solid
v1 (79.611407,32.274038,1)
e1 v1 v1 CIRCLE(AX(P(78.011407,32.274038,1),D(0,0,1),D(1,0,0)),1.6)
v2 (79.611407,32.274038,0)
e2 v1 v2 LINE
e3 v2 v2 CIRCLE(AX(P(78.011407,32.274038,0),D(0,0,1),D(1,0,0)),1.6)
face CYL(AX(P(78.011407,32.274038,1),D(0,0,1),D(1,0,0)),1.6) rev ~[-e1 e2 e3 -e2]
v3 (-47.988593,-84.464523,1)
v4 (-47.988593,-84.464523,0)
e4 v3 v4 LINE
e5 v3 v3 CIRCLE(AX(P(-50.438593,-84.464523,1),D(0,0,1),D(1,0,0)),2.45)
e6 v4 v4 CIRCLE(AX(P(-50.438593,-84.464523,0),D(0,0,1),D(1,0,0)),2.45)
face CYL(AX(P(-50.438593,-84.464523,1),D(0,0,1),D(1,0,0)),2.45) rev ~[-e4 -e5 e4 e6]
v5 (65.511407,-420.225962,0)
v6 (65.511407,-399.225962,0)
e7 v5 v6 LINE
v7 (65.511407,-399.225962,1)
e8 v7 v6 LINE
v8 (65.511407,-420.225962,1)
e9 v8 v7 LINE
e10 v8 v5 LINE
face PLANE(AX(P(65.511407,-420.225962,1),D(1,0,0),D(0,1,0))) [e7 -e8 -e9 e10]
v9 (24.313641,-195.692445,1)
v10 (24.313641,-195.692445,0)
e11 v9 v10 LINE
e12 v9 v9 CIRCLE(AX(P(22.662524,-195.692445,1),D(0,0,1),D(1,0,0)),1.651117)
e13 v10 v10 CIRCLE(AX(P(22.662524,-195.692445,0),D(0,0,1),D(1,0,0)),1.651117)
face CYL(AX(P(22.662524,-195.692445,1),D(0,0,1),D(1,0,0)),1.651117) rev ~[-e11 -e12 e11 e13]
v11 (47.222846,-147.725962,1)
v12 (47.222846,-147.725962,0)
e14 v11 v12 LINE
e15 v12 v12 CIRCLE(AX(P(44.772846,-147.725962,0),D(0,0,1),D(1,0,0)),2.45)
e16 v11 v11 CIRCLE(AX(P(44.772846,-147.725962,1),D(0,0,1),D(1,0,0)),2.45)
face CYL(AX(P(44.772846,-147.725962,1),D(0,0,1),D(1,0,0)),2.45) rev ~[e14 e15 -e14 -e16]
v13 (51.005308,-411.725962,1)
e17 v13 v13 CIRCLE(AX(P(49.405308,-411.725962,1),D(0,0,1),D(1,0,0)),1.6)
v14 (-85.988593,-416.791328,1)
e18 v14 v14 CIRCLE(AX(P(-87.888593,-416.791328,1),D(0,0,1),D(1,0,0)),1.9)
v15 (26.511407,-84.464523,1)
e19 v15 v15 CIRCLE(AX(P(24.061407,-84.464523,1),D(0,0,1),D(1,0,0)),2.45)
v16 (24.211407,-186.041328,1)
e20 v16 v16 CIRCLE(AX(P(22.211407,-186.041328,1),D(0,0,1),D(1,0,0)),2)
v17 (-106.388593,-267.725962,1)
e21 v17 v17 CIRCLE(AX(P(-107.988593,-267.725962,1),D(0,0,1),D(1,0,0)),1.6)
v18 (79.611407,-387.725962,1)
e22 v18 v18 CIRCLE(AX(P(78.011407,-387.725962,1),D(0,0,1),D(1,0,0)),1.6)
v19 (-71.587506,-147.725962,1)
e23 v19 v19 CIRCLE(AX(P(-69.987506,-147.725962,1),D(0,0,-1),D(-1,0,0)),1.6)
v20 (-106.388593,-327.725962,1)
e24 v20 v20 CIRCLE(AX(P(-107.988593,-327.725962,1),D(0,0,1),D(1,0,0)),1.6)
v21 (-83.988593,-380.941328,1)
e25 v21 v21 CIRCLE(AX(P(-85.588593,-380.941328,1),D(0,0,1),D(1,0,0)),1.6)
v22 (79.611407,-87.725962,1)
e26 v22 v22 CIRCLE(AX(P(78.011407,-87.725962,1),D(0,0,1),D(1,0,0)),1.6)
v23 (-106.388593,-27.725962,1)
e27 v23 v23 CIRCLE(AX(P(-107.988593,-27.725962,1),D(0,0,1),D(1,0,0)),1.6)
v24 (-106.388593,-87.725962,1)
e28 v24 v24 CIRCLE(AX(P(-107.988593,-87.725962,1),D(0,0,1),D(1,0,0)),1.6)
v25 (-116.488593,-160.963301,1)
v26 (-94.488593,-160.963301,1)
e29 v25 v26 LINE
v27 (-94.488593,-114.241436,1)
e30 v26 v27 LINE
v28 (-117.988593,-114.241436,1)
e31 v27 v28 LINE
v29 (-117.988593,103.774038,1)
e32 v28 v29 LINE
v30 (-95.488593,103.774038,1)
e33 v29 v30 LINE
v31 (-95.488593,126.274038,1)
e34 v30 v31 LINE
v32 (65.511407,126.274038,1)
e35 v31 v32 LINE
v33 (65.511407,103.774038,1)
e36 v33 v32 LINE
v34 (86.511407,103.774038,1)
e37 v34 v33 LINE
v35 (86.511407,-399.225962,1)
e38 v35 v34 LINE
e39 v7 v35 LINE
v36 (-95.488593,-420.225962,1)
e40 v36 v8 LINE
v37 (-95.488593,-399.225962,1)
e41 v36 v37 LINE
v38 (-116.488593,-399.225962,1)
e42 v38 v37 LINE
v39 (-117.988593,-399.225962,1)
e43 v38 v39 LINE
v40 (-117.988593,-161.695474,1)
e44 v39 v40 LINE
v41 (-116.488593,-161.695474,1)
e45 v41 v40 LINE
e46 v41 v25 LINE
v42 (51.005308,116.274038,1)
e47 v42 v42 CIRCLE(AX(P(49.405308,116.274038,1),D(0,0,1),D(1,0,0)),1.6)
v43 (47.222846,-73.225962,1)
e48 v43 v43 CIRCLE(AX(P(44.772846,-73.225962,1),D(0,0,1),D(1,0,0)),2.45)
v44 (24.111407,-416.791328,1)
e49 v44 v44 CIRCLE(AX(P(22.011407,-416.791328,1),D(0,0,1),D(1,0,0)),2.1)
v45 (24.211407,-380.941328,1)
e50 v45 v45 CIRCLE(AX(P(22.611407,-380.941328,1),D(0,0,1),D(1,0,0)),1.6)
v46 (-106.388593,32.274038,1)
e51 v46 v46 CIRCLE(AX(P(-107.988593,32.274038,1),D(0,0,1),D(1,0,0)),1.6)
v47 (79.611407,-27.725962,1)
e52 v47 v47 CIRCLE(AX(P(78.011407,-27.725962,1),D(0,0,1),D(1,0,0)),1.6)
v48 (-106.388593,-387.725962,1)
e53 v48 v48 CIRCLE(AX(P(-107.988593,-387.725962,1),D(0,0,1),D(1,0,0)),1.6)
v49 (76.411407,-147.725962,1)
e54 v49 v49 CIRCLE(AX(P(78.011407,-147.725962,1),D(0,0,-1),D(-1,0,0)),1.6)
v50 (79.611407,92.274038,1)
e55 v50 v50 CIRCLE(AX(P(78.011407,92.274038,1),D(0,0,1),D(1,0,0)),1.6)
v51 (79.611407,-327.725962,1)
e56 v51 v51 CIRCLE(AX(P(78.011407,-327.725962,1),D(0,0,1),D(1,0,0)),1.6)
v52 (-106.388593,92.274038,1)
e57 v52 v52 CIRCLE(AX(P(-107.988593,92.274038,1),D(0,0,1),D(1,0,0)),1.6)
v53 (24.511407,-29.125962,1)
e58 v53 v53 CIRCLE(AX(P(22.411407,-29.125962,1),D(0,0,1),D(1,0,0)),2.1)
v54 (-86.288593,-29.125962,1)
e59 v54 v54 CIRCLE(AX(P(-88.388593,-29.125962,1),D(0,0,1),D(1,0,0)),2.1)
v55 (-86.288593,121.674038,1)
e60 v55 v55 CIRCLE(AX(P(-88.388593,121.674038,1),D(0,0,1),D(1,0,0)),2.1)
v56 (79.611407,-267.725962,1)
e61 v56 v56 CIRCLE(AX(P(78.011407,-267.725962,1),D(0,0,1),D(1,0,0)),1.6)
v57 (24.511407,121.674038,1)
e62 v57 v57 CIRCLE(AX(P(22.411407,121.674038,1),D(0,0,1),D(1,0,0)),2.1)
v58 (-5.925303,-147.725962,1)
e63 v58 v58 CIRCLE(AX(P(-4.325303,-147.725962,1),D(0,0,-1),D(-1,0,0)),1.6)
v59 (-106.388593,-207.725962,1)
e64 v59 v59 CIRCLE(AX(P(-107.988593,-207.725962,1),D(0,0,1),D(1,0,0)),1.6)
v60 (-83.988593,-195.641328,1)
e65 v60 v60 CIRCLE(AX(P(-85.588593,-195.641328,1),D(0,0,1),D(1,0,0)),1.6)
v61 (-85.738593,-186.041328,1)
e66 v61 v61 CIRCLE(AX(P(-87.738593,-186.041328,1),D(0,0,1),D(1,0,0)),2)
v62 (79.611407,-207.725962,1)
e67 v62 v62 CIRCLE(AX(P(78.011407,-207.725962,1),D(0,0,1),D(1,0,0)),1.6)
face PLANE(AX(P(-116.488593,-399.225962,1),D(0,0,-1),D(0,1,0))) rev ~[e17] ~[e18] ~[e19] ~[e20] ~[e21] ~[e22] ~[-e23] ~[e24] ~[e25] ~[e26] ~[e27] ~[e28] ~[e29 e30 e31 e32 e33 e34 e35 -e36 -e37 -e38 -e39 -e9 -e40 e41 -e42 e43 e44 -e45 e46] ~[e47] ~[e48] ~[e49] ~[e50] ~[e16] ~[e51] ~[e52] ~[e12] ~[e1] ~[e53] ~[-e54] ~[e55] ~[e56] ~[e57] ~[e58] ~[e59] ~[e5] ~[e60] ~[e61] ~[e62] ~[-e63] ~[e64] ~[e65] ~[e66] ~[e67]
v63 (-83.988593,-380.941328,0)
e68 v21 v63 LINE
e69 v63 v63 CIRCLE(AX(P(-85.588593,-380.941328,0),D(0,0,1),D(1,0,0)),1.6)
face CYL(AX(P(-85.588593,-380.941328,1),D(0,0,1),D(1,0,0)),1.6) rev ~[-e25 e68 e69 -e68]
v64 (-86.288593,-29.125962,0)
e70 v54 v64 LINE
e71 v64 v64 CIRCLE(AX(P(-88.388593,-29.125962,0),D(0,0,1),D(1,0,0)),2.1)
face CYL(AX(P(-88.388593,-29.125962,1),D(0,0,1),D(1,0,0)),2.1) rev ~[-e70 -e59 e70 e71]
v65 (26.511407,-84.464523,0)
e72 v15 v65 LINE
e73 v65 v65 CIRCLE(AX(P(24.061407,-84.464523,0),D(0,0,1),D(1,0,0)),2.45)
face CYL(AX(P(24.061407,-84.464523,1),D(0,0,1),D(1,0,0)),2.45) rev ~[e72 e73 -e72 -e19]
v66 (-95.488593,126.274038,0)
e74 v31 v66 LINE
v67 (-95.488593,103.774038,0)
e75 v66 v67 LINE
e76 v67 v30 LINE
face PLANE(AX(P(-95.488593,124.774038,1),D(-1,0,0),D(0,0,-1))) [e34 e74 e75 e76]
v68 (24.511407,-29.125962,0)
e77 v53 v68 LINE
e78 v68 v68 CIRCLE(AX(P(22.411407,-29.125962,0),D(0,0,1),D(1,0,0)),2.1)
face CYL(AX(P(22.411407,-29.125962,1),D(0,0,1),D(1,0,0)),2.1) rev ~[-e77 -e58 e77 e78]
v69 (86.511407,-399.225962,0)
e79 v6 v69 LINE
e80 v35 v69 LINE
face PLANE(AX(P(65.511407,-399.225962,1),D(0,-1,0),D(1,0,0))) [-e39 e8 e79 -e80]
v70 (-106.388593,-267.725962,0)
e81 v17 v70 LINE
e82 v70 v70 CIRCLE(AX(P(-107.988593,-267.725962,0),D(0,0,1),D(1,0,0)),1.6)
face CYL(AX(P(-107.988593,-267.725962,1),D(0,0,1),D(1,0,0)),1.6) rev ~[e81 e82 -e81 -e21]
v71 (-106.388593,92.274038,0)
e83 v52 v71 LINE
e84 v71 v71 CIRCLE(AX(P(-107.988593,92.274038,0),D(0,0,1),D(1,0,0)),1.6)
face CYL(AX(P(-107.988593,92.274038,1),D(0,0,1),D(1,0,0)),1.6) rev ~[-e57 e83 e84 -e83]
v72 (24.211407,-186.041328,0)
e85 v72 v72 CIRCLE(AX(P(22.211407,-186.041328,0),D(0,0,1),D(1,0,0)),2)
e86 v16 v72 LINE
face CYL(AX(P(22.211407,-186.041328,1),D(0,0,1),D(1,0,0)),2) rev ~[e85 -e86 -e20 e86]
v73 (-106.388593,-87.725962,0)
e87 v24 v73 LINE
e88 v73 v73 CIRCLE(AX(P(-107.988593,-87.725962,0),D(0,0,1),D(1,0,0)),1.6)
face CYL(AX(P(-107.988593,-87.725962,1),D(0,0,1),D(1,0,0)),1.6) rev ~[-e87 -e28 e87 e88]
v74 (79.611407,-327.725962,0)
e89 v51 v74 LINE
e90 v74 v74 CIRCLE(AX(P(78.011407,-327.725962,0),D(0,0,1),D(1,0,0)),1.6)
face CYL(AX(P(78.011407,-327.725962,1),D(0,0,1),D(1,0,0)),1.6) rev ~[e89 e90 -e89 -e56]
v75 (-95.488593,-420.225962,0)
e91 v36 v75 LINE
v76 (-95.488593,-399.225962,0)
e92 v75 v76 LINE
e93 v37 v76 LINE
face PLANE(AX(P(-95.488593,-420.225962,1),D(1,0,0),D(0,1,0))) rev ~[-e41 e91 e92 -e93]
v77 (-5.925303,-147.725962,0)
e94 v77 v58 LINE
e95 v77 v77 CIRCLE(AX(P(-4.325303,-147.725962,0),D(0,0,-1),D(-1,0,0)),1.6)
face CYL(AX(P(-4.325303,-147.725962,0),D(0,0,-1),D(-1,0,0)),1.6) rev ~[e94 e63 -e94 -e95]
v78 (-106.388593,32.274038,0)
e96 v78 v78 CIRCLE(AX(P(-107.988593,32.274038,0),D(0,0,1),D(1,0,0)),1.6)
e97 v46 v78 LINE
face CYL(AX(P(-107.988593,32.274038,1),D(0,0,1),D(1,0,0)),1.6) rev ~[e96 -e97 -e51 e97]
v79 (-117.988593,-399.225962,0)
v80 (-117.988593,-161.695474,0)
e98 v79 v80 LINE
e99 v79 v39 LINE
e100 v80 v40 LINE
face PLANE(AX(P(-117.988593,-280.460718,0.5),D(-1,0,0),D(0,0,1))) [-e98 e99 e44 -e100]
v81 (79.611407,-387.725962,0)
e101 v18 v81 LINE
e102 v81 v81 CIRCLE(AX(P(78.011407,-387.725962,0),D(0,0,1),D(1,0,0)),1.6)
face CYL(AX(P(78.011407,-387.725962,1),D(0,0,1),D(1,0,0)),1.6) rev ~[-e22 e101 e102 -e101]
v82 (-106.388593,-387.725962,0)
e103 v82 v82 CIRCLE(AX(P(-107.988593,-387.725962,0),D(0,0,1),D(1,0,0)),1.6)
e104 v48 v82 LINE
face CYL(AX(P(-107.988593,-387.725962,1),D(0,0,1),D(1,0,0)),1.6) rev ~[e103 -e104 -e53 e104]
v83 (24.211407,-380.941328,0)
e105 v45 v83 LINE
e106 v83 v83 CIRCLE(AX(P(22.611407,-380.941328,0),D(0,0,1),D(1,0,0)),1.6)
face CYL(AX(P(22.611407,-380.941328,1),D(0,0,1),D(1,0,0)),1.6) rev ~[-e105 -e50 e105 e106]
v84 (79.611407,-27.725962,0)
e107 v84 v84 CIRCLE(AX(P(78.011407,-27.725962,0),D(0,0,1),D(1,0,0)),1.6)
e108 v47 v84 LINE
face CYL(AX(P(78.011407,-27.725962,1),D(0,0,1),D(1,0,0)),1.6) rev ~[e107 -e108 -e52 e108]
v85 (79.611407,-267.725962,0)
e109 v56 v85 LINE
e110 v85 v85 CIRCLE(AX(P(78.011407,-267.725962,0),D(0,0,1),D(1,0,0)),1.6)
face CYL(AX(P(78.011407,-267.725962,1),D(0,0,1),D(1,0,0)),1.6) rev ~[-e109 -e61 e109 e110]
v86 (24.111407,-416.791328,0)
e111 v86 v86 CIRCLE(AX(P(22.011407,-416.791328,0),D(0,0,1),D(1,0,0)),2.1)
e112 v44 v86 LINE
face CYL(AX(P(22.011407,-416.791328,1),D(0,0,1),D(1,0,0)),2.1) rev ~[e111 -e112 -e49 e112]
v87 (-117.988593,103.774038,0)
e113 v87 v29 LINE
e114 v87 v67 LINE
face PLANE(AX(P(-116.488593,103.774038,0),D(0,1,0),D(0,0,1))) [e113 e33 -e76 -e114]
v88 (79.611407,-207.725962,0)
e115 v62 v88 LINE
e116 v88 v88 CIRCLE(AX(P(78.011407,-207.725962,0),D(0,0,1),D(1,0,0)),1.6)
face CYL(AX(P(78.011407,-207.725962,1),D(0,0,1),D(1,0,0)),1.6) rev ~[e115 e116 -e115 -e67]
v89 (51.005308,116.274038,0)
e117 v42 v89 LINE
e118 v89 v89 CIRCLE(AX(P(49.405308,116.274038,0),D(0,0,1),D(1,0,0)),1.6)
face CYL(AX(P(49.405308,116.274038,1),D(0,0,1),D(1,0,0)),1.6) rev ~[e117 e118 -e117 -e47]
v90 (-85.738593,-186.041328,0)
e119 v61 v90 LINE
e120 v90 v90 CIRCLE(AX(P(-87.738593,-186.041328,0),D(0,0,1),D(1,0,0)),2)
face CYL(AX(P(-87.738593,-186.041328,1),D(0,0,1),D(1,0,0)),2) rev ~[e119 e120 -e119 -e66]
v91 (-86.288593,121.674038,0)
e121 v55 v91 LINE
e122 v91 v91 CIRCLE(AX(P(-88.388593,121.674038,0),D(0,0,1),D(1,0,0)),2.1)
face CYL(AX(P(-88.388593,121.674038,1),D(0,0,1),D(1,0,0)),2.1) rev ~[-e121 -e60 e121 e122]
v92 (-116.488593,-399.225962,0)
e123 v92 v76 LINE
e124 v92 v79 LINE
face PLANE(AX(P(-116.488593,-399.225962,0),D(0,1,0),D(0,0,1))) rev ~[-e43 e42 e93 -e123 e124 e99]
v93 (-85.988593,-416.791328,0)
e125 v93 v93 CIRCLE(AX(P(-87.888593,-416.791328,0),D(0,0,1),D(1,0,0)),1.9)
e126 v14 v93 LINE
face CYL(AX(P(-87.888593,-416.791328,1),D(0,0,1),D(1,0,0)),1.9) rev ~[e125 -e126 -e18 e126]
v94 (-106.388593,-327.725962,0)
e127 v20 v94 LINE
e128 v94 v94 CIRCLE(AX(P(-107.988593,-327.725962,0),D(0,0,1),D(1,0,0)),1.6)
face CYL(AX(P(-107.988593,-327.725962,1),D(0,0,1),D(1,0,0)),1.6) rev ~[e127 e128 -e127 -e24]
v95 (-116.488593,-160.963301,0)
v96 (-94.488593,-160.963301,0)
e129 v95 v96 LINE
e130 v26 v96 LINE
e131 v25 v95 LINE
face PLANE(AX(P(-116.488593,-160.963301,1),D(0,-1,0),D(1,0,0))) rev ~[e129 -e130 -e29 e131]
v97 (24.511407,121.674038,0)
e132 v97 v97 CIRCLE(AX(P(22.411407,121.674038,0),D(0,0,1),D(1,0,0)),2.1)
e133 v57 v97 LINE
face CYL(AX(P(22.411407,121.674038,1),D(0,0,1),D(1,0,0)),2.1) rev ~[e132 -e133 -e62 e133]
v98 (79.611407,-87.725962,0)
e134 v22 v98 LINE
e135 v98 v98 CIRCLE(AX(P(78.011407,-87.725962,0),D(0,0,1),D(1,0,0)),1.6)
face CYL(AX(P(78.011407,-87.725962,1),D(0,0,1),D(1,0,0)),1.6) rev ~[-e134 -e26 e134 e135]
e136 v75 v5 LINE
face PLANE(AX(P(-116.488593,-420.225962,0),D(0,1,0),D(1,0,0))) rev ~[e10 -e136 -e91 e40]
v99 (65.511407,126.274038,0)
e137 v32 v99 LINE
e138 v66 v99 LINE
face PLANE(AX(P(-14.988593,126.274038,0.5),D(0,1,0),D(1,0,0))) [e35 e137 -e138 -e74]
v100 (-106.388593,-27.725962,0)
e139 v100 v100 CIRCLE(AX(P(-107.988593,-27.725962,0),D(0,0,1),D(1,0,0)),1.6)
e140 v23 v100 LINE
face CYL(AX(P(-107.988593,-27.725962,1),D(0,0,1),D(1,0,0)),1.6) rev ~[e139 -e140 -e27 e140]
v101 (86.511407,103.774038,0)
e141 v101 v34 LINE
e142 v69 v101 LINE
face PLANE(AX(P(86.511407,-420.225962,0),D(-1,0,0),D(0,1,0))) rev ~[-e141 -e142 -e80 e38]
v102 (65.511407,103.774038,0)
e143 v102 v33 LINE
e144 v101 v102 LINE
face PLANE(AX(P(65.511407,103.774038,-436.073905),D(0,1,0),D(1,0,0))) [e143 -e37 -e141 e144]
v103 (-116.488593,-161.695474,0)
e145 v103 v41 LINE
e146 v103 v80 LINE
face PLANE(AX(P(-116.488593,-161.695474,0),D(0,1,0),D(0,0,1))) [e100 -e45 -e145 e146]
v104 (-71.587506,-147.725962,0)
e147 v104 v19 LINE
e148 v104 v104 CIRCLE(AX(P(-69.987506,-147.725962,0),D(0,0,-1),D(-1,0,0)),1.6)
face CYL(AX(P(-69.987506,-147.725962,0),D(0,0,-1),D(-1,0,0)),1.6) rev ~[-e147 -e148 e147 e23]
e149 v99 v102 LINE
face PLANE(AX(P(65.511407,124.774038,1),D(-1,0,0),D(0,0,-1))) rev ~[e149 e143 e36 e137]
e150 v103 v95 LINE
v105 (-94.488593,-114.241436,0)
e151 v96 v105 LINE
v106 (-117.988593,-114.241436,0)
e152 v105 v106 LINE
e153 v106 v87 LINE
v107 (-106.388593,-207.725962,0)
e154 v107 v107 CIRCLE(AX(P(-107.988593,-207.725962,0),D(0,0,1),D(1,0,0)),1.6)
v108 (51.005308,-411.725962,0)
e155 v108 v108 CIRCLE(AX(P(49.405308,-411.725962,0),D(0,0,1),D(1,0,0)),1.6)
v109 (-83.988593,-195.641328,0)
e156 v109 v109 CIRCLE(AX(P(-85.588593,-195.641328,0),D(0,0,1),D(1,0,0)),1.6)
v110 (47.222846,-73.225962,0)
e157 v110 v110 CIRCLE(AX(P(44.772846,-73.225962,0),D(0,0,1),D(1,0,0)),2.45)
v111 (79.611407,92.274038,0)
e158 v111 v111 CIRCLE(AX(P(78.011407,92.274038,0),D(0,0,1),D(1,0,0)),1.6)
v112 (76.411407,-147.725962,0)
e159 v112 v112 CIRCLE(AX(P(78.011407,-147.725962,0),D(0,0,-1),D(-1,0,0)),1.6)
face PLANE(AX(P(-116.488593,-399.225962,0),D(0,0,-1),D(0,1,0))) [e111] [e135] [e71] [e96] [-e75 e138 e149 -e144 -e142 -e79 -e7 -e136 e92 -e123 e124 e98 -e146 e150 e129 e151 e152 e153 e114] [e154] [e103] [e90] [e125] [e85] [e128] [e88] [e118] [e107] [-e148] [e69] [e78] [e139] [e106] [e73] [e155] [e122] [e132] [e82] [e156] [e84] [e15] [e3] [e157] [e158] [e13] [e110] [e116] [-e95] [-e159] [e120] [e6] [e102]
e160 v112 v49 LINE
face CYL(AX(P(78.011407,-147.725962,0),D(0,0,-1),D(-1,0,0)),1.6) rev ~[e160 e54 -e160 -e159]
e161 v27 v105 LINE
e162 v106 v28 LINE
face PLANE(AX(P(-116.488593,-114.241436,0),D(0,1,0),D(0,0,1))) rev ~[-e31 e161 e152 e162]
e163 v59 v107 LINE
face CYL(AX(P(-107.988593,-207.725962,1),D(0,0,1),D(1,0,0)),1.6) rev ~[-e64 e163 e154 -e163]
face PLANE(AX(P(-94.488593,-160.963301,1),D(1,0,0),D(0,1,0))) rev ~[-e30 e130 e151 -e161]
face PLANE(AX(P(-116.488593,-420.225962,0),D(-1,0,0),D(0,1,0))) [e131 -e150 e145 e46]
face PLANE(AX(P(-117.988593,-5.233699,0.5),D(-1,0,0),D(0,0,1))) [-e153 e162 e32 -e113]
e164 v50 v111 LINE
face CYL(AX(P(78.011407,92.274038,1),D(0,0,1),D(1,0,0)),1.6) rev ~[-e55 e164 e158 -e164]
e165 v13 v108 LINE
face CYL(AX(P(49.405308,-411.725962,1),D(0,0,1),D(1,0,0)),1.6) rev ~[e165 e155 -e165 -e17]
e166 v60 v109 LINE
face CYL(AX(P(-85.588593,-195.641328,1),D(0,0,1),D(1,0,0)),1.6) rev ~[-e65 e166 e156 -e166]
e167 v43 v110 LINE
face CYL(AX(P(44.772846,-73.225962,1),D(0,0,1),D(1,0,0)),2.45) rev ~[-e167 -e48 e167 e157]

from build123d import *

# Parameters (mm, degrees)
SZKIC1_W                        = 203
SZKIC1_H                        = 545
DODANIE_WYCI_GNI_CIE1_DEPTH     = 1
WYTNIJ_WYCI_GNI_CIE1_DEPTH      = 437.073905415
WYTNIJ_WYCI_GNI_CIE1_DEPTH_BACK = 437.073905415
SZKIC2_W                        = 21
SZKIC2_H                        = 21
SZKIC3_W                        = 21
SZKIC3_H                        = 21
WYTNIJ_WYCI_GNI_CIE2_DEPTH      = 437.073905415
SZKIC4_W                        = 22
SZKIC4_H                        = 46.721864408
WYTNIJ_WYCI_GNI_CIE3_DEPTH      = 437.073905415
SZKIC5_W                        = 161
SZKIC5_H                        = 1
DODANIE_WYCI_GNI_CIE2_DEPTH     = 1.5
SZKIC6_R                        = 2.1
WYTNIJ_WYCI_GNI_CIE4_DEPTH      = 437.073905415
SZKIC7_R                        = 2.45
WYTNIJ_WYCI_GNI_CIE5_DEPTH      = 437.073905415
SZKIC8_W                        = 1
SZKIC8_H                        = 218.015474914
DODANIE_WYCI_GNI_CIE3_DEPTH     = 1.5
SZKIC9_W                        = 1
SZKIC9_H                        = 237.530488001
DODANIE_WYCI_GNI_CIE4_DEPTH     = 1.5
SZKIC10_R                       = 2
SZKIC10_R_2                     = 1.651116854
SZKIC10_R_3                     = 1.6
SZKIC10_R_4                     = 2.1
SZKIC10_R_5                     = 1.9
WYTNIJ_WYCI_GNI_CIE6_DEPTH      = 437.476994539
SZKIC11_R                       = 1.6
WYTNIJ_WYCI_GNI_CIE7_DEPTH      = 437.476994539
SZKIC12_R                       = 1.6
WYTNIJ_WYCI_GNI_CIE8_DEPTH      = 437.476994539


with BuildPart() as part:
    # Szkic1 → Dodanie-wyciągnięcie1 (new body)
    with BuildSketch(Plane.XY):
        with Locations((-14.988592715, -147.725961538)):
            Rectangle(SZKIC1_W, SZKIC1_H)
    extrude(amount=DODANIE_WYCI_GNI_CIE1_DEPTH)

    # Szkic2 → Wytnij-wyciągnięcie1 (cut, two sides: drawn at the far end of the back side and taken through both)
    with BuildSketch(Plane.XY.offset(1).offset(-WYTNIJ_WYCI_GNI_CIE1_DEPTH_BACK)):
        with Locations((-105.988592715, 114.274038462)):
            Rectangle(SZKIC2_W, SZKIC2_H)
        with Locations((76.011407285, 114.274038462)):
            Rectangle(SZKIC2_W, SZKIC2_H)
    extrude(amount=WYTNIJ_WYCI_GNI_CIE1_DEPTH + WYTNIJ_WYCI_GNI_CIE1_DEPTH_BACK, mode=Mode.SUBTRACT)

    # Szkic3 → Wytnij-wyciągnięcie2 (cut, through all)
    with BuildSketch(Plane.XY.offset(1)):
        with Locations((76.011407285, -409.725961538)):
            Rectangle(SZKIC3_W, SZKIC3_H)
        with Locations((-105.988592715, -409.725961538)):
            Rectangle(SZKIC3_W, SZKIC3_H)
    extrude(amount=-WYTNIJ_WYCI_GNI_CIE2_DEPTH, mode=Mode.SUBTRACT)

    # Szkic4 → Wytnij-wyciągnięcie3 (cut, through all)
    with BuildSketch(Plane.XY.offset(1)):
        with Locations((-105.488592715, -137.602368656)):
            Rectangle(SZKIC4_W, SZKIC4_H)
    extrude(amount=-WYTNIJ_WYCI_GNI_CIE3_DEPTH, mode=Mode.SUBTRACT)

    # Szkic5 → Dodanie-wyciągnięcie2 (add)
    with BuildSketch(Plane(origin=(0, 124.774038462, 0), x_dir=(1, 0, 0), z_dir=(0, 1, 0))):
        with Locations((-14.988592715, -0.5)):
            Rectangle(SZKIC5_W, SZKIC5_H)
    extrude(amount=DODANIE_WYCI_GNI_CIE2_DEPTH)

    # Szkic6 → Wytnij-wyciągnięcie4 (cut, through all)
    with BuildSketch(Plane.XY.offset(1)):
        with Locations((22.411407285, -29.125961538)):
            Circle(SZKIC6_R)
        with Locations((22.411407285, 121.674038462)):
            Circle(SZKIC6_R)
        with Locations((-88.388592715, 121.674038462)):
            Circle(SZKIC6_R)
        with Locations((-88.388592715, -29.125961538)):
            Circle(SZKIC6_R)
    extrude(amount=-WYTNIJ_WYCI_GNI_CIE4_DEPTH, mode=Mode.SUBTRACT)

    # Szkic7 → Wytnij-wyciągnięcie5 (cut, through all)
    with BuildSketch(Plane.XY.offset(1)):
        with Locations((-50.438592715, -84.464522811)):
            Circle(SZKIC7_R)
        with Locations((24.061407285, -84.464522811)):
            Circle(SZKIC7_R)
        with Locations((44.772846012, -73.225961538)):
            Circle(SZKIC7_R)
        with Locations((44.772846012, -147.725961538)):
            Circle(SZKIC7_R)
    extrude(amount=-WYTNIJ_WYCI_GNI_CIE5_DEPTH, mode=Mode.SUBTRACT)

    # Szkic8 → Dodanie-wyciągnięcie3 (add)
    with BuildSketch(Plane.ZY.offset(116.488592715)):
        with Locations((0.5, -5.233698995)):
            Rectangle(SZKIC8_W, SZKIC8_H)
    extrude(amount=DODANIE_WYCI_GNI_CIE3_DEPTH)

    # Szkic9 → Dodanie-wyciągnięcie4 (add)
    with BuildSketch(Plane.ZY.offset(116.488592715)):
        with Locations((0.5, -280.460717538)):
            Rectangle(SZKIC9_W, SZKIC9_H)
    extrude(amount=DODANIE_WYCI_GNI_CIE4_DEPTH)

    # Szkic10 → Wytnij-wyciągnięcie6 (cut, through all)
    with BuildSketch(Plane.XY.offset(1)):
        with Locations((22.211407285, -186.041328015)):
            Circle(SZKIC10_R)
        with Locations((22.662524139, -195.692444868)):
            Circle(SZKIC10_R_2)
        with Locations((-87.738592715, -186.041328015)):
            Circle(SZKIC10_R)
        with Locations((-85.588592715, -195.641328015)):
            Circle(SZKIC10_R_3)
        with Locations((-85.588592715, -380.941328015)):
            Circle(SZKIC10_R_3)
        with Locations((22.611407285, -380.941328015)):
            Circle(SZKIC10_R_3)
        with Locations((22.011407285, -416.791328015)):
            Circle(SZKIC10_R_4)
        with Locations((-87.888592715, -416.791328015)):
            Circle(SZKIC10_R_5)
    extrude(amount=-WYTNIJ_WYCI_GNI_CIE6_DEPTH, mode=Mode.SUBTRACT)

    # Szkic11 → Wytnij-wyciągnięcie7 (cut, through all)
    with BuildSketch(Plane(origin=(0, 0, 0), x_dir=(-1, 0, 0), z_dir=(0, 0, -1))):
        with Locations((4.325302662, -147.725961538)):
            Circle(SZKIC11_R)
        with Locations((69.987506483, -147.725961538)):
            Circle(SZKIC11_R)
        with Locations((-78.011407285, -147.725961538)):
            Circle(SZKIC11_R)
    extrude(amount=-WYTNIJ_WYCI_GNI_CIE7_DEPTH, mode=Mode.SUBTRACT)

    # Szkic12 → Wytnij-wyciągnięcie8 (cut, through all)
    with BuildSketch(Plane.XY.offset(1)):
        with Locations((-107.988592715, -87.725961538)):
            Circle(SZKIC12_R)
        with Locations((-107.988592715, -27.725961538)):
            Circle(SZKIC12_R)
        with Locations((-107.988592715, 32.274038462)):
            Circle(SZKIC12_R)
        with Locations((-107.988592715, 92.274038462)):
            Circle(SZKIC12_R)
        with Locations((-107.988592715, -207.725961538)):
            Circle(SZKIC12_R)
        with Locations((-107.988592715, -267.725961538)):
            Circle(SZKIC12_R)
        with Locations((-107.988592715, -327.725961538)):
            Circle(SZKIC12_R)
        with Locations((-107.988592715, -387.725961538)):
            Circle(SZKIC12_R)
        with Locations((78.011407285, 92.274038462)):
            Circle(SZKIC12_R)
        with Locations((78.011407285, 32.274038462)):
            Circle(SZKIC12_R)
        with Locations((78.011407285, -27.725961538)):
            Circle(SZKIC12_R)
        with Locations((78.011407285, -87.725961538)):
            Circle(SZKIC12_R)
        with Locations((78.011407285, -207.725961538)):
            Circle(SZKIC12_R)
        with Locations((78.011407285, -267.725961538)):
            Circle(SZKIC12_R)
        with Locations((78.011407285, -327.725961538)):
            Circle(SZKIC12_R)
        with Locations((78.011407285, -387.725961538)):
            Circle(SZKIC12_R)
        with Locations((49.40530762, 116.274038462)):
            Circle(SZKIC12_R)
        with Locations((49.40530762, -411.725961538)):
            Circle(SZKIC12_R)
    extrude(amount=-WYTNIJ_WYCI_GNI_CIE8_DEPTH, mode=Mode.SUBTRACT)


solid = part.part
